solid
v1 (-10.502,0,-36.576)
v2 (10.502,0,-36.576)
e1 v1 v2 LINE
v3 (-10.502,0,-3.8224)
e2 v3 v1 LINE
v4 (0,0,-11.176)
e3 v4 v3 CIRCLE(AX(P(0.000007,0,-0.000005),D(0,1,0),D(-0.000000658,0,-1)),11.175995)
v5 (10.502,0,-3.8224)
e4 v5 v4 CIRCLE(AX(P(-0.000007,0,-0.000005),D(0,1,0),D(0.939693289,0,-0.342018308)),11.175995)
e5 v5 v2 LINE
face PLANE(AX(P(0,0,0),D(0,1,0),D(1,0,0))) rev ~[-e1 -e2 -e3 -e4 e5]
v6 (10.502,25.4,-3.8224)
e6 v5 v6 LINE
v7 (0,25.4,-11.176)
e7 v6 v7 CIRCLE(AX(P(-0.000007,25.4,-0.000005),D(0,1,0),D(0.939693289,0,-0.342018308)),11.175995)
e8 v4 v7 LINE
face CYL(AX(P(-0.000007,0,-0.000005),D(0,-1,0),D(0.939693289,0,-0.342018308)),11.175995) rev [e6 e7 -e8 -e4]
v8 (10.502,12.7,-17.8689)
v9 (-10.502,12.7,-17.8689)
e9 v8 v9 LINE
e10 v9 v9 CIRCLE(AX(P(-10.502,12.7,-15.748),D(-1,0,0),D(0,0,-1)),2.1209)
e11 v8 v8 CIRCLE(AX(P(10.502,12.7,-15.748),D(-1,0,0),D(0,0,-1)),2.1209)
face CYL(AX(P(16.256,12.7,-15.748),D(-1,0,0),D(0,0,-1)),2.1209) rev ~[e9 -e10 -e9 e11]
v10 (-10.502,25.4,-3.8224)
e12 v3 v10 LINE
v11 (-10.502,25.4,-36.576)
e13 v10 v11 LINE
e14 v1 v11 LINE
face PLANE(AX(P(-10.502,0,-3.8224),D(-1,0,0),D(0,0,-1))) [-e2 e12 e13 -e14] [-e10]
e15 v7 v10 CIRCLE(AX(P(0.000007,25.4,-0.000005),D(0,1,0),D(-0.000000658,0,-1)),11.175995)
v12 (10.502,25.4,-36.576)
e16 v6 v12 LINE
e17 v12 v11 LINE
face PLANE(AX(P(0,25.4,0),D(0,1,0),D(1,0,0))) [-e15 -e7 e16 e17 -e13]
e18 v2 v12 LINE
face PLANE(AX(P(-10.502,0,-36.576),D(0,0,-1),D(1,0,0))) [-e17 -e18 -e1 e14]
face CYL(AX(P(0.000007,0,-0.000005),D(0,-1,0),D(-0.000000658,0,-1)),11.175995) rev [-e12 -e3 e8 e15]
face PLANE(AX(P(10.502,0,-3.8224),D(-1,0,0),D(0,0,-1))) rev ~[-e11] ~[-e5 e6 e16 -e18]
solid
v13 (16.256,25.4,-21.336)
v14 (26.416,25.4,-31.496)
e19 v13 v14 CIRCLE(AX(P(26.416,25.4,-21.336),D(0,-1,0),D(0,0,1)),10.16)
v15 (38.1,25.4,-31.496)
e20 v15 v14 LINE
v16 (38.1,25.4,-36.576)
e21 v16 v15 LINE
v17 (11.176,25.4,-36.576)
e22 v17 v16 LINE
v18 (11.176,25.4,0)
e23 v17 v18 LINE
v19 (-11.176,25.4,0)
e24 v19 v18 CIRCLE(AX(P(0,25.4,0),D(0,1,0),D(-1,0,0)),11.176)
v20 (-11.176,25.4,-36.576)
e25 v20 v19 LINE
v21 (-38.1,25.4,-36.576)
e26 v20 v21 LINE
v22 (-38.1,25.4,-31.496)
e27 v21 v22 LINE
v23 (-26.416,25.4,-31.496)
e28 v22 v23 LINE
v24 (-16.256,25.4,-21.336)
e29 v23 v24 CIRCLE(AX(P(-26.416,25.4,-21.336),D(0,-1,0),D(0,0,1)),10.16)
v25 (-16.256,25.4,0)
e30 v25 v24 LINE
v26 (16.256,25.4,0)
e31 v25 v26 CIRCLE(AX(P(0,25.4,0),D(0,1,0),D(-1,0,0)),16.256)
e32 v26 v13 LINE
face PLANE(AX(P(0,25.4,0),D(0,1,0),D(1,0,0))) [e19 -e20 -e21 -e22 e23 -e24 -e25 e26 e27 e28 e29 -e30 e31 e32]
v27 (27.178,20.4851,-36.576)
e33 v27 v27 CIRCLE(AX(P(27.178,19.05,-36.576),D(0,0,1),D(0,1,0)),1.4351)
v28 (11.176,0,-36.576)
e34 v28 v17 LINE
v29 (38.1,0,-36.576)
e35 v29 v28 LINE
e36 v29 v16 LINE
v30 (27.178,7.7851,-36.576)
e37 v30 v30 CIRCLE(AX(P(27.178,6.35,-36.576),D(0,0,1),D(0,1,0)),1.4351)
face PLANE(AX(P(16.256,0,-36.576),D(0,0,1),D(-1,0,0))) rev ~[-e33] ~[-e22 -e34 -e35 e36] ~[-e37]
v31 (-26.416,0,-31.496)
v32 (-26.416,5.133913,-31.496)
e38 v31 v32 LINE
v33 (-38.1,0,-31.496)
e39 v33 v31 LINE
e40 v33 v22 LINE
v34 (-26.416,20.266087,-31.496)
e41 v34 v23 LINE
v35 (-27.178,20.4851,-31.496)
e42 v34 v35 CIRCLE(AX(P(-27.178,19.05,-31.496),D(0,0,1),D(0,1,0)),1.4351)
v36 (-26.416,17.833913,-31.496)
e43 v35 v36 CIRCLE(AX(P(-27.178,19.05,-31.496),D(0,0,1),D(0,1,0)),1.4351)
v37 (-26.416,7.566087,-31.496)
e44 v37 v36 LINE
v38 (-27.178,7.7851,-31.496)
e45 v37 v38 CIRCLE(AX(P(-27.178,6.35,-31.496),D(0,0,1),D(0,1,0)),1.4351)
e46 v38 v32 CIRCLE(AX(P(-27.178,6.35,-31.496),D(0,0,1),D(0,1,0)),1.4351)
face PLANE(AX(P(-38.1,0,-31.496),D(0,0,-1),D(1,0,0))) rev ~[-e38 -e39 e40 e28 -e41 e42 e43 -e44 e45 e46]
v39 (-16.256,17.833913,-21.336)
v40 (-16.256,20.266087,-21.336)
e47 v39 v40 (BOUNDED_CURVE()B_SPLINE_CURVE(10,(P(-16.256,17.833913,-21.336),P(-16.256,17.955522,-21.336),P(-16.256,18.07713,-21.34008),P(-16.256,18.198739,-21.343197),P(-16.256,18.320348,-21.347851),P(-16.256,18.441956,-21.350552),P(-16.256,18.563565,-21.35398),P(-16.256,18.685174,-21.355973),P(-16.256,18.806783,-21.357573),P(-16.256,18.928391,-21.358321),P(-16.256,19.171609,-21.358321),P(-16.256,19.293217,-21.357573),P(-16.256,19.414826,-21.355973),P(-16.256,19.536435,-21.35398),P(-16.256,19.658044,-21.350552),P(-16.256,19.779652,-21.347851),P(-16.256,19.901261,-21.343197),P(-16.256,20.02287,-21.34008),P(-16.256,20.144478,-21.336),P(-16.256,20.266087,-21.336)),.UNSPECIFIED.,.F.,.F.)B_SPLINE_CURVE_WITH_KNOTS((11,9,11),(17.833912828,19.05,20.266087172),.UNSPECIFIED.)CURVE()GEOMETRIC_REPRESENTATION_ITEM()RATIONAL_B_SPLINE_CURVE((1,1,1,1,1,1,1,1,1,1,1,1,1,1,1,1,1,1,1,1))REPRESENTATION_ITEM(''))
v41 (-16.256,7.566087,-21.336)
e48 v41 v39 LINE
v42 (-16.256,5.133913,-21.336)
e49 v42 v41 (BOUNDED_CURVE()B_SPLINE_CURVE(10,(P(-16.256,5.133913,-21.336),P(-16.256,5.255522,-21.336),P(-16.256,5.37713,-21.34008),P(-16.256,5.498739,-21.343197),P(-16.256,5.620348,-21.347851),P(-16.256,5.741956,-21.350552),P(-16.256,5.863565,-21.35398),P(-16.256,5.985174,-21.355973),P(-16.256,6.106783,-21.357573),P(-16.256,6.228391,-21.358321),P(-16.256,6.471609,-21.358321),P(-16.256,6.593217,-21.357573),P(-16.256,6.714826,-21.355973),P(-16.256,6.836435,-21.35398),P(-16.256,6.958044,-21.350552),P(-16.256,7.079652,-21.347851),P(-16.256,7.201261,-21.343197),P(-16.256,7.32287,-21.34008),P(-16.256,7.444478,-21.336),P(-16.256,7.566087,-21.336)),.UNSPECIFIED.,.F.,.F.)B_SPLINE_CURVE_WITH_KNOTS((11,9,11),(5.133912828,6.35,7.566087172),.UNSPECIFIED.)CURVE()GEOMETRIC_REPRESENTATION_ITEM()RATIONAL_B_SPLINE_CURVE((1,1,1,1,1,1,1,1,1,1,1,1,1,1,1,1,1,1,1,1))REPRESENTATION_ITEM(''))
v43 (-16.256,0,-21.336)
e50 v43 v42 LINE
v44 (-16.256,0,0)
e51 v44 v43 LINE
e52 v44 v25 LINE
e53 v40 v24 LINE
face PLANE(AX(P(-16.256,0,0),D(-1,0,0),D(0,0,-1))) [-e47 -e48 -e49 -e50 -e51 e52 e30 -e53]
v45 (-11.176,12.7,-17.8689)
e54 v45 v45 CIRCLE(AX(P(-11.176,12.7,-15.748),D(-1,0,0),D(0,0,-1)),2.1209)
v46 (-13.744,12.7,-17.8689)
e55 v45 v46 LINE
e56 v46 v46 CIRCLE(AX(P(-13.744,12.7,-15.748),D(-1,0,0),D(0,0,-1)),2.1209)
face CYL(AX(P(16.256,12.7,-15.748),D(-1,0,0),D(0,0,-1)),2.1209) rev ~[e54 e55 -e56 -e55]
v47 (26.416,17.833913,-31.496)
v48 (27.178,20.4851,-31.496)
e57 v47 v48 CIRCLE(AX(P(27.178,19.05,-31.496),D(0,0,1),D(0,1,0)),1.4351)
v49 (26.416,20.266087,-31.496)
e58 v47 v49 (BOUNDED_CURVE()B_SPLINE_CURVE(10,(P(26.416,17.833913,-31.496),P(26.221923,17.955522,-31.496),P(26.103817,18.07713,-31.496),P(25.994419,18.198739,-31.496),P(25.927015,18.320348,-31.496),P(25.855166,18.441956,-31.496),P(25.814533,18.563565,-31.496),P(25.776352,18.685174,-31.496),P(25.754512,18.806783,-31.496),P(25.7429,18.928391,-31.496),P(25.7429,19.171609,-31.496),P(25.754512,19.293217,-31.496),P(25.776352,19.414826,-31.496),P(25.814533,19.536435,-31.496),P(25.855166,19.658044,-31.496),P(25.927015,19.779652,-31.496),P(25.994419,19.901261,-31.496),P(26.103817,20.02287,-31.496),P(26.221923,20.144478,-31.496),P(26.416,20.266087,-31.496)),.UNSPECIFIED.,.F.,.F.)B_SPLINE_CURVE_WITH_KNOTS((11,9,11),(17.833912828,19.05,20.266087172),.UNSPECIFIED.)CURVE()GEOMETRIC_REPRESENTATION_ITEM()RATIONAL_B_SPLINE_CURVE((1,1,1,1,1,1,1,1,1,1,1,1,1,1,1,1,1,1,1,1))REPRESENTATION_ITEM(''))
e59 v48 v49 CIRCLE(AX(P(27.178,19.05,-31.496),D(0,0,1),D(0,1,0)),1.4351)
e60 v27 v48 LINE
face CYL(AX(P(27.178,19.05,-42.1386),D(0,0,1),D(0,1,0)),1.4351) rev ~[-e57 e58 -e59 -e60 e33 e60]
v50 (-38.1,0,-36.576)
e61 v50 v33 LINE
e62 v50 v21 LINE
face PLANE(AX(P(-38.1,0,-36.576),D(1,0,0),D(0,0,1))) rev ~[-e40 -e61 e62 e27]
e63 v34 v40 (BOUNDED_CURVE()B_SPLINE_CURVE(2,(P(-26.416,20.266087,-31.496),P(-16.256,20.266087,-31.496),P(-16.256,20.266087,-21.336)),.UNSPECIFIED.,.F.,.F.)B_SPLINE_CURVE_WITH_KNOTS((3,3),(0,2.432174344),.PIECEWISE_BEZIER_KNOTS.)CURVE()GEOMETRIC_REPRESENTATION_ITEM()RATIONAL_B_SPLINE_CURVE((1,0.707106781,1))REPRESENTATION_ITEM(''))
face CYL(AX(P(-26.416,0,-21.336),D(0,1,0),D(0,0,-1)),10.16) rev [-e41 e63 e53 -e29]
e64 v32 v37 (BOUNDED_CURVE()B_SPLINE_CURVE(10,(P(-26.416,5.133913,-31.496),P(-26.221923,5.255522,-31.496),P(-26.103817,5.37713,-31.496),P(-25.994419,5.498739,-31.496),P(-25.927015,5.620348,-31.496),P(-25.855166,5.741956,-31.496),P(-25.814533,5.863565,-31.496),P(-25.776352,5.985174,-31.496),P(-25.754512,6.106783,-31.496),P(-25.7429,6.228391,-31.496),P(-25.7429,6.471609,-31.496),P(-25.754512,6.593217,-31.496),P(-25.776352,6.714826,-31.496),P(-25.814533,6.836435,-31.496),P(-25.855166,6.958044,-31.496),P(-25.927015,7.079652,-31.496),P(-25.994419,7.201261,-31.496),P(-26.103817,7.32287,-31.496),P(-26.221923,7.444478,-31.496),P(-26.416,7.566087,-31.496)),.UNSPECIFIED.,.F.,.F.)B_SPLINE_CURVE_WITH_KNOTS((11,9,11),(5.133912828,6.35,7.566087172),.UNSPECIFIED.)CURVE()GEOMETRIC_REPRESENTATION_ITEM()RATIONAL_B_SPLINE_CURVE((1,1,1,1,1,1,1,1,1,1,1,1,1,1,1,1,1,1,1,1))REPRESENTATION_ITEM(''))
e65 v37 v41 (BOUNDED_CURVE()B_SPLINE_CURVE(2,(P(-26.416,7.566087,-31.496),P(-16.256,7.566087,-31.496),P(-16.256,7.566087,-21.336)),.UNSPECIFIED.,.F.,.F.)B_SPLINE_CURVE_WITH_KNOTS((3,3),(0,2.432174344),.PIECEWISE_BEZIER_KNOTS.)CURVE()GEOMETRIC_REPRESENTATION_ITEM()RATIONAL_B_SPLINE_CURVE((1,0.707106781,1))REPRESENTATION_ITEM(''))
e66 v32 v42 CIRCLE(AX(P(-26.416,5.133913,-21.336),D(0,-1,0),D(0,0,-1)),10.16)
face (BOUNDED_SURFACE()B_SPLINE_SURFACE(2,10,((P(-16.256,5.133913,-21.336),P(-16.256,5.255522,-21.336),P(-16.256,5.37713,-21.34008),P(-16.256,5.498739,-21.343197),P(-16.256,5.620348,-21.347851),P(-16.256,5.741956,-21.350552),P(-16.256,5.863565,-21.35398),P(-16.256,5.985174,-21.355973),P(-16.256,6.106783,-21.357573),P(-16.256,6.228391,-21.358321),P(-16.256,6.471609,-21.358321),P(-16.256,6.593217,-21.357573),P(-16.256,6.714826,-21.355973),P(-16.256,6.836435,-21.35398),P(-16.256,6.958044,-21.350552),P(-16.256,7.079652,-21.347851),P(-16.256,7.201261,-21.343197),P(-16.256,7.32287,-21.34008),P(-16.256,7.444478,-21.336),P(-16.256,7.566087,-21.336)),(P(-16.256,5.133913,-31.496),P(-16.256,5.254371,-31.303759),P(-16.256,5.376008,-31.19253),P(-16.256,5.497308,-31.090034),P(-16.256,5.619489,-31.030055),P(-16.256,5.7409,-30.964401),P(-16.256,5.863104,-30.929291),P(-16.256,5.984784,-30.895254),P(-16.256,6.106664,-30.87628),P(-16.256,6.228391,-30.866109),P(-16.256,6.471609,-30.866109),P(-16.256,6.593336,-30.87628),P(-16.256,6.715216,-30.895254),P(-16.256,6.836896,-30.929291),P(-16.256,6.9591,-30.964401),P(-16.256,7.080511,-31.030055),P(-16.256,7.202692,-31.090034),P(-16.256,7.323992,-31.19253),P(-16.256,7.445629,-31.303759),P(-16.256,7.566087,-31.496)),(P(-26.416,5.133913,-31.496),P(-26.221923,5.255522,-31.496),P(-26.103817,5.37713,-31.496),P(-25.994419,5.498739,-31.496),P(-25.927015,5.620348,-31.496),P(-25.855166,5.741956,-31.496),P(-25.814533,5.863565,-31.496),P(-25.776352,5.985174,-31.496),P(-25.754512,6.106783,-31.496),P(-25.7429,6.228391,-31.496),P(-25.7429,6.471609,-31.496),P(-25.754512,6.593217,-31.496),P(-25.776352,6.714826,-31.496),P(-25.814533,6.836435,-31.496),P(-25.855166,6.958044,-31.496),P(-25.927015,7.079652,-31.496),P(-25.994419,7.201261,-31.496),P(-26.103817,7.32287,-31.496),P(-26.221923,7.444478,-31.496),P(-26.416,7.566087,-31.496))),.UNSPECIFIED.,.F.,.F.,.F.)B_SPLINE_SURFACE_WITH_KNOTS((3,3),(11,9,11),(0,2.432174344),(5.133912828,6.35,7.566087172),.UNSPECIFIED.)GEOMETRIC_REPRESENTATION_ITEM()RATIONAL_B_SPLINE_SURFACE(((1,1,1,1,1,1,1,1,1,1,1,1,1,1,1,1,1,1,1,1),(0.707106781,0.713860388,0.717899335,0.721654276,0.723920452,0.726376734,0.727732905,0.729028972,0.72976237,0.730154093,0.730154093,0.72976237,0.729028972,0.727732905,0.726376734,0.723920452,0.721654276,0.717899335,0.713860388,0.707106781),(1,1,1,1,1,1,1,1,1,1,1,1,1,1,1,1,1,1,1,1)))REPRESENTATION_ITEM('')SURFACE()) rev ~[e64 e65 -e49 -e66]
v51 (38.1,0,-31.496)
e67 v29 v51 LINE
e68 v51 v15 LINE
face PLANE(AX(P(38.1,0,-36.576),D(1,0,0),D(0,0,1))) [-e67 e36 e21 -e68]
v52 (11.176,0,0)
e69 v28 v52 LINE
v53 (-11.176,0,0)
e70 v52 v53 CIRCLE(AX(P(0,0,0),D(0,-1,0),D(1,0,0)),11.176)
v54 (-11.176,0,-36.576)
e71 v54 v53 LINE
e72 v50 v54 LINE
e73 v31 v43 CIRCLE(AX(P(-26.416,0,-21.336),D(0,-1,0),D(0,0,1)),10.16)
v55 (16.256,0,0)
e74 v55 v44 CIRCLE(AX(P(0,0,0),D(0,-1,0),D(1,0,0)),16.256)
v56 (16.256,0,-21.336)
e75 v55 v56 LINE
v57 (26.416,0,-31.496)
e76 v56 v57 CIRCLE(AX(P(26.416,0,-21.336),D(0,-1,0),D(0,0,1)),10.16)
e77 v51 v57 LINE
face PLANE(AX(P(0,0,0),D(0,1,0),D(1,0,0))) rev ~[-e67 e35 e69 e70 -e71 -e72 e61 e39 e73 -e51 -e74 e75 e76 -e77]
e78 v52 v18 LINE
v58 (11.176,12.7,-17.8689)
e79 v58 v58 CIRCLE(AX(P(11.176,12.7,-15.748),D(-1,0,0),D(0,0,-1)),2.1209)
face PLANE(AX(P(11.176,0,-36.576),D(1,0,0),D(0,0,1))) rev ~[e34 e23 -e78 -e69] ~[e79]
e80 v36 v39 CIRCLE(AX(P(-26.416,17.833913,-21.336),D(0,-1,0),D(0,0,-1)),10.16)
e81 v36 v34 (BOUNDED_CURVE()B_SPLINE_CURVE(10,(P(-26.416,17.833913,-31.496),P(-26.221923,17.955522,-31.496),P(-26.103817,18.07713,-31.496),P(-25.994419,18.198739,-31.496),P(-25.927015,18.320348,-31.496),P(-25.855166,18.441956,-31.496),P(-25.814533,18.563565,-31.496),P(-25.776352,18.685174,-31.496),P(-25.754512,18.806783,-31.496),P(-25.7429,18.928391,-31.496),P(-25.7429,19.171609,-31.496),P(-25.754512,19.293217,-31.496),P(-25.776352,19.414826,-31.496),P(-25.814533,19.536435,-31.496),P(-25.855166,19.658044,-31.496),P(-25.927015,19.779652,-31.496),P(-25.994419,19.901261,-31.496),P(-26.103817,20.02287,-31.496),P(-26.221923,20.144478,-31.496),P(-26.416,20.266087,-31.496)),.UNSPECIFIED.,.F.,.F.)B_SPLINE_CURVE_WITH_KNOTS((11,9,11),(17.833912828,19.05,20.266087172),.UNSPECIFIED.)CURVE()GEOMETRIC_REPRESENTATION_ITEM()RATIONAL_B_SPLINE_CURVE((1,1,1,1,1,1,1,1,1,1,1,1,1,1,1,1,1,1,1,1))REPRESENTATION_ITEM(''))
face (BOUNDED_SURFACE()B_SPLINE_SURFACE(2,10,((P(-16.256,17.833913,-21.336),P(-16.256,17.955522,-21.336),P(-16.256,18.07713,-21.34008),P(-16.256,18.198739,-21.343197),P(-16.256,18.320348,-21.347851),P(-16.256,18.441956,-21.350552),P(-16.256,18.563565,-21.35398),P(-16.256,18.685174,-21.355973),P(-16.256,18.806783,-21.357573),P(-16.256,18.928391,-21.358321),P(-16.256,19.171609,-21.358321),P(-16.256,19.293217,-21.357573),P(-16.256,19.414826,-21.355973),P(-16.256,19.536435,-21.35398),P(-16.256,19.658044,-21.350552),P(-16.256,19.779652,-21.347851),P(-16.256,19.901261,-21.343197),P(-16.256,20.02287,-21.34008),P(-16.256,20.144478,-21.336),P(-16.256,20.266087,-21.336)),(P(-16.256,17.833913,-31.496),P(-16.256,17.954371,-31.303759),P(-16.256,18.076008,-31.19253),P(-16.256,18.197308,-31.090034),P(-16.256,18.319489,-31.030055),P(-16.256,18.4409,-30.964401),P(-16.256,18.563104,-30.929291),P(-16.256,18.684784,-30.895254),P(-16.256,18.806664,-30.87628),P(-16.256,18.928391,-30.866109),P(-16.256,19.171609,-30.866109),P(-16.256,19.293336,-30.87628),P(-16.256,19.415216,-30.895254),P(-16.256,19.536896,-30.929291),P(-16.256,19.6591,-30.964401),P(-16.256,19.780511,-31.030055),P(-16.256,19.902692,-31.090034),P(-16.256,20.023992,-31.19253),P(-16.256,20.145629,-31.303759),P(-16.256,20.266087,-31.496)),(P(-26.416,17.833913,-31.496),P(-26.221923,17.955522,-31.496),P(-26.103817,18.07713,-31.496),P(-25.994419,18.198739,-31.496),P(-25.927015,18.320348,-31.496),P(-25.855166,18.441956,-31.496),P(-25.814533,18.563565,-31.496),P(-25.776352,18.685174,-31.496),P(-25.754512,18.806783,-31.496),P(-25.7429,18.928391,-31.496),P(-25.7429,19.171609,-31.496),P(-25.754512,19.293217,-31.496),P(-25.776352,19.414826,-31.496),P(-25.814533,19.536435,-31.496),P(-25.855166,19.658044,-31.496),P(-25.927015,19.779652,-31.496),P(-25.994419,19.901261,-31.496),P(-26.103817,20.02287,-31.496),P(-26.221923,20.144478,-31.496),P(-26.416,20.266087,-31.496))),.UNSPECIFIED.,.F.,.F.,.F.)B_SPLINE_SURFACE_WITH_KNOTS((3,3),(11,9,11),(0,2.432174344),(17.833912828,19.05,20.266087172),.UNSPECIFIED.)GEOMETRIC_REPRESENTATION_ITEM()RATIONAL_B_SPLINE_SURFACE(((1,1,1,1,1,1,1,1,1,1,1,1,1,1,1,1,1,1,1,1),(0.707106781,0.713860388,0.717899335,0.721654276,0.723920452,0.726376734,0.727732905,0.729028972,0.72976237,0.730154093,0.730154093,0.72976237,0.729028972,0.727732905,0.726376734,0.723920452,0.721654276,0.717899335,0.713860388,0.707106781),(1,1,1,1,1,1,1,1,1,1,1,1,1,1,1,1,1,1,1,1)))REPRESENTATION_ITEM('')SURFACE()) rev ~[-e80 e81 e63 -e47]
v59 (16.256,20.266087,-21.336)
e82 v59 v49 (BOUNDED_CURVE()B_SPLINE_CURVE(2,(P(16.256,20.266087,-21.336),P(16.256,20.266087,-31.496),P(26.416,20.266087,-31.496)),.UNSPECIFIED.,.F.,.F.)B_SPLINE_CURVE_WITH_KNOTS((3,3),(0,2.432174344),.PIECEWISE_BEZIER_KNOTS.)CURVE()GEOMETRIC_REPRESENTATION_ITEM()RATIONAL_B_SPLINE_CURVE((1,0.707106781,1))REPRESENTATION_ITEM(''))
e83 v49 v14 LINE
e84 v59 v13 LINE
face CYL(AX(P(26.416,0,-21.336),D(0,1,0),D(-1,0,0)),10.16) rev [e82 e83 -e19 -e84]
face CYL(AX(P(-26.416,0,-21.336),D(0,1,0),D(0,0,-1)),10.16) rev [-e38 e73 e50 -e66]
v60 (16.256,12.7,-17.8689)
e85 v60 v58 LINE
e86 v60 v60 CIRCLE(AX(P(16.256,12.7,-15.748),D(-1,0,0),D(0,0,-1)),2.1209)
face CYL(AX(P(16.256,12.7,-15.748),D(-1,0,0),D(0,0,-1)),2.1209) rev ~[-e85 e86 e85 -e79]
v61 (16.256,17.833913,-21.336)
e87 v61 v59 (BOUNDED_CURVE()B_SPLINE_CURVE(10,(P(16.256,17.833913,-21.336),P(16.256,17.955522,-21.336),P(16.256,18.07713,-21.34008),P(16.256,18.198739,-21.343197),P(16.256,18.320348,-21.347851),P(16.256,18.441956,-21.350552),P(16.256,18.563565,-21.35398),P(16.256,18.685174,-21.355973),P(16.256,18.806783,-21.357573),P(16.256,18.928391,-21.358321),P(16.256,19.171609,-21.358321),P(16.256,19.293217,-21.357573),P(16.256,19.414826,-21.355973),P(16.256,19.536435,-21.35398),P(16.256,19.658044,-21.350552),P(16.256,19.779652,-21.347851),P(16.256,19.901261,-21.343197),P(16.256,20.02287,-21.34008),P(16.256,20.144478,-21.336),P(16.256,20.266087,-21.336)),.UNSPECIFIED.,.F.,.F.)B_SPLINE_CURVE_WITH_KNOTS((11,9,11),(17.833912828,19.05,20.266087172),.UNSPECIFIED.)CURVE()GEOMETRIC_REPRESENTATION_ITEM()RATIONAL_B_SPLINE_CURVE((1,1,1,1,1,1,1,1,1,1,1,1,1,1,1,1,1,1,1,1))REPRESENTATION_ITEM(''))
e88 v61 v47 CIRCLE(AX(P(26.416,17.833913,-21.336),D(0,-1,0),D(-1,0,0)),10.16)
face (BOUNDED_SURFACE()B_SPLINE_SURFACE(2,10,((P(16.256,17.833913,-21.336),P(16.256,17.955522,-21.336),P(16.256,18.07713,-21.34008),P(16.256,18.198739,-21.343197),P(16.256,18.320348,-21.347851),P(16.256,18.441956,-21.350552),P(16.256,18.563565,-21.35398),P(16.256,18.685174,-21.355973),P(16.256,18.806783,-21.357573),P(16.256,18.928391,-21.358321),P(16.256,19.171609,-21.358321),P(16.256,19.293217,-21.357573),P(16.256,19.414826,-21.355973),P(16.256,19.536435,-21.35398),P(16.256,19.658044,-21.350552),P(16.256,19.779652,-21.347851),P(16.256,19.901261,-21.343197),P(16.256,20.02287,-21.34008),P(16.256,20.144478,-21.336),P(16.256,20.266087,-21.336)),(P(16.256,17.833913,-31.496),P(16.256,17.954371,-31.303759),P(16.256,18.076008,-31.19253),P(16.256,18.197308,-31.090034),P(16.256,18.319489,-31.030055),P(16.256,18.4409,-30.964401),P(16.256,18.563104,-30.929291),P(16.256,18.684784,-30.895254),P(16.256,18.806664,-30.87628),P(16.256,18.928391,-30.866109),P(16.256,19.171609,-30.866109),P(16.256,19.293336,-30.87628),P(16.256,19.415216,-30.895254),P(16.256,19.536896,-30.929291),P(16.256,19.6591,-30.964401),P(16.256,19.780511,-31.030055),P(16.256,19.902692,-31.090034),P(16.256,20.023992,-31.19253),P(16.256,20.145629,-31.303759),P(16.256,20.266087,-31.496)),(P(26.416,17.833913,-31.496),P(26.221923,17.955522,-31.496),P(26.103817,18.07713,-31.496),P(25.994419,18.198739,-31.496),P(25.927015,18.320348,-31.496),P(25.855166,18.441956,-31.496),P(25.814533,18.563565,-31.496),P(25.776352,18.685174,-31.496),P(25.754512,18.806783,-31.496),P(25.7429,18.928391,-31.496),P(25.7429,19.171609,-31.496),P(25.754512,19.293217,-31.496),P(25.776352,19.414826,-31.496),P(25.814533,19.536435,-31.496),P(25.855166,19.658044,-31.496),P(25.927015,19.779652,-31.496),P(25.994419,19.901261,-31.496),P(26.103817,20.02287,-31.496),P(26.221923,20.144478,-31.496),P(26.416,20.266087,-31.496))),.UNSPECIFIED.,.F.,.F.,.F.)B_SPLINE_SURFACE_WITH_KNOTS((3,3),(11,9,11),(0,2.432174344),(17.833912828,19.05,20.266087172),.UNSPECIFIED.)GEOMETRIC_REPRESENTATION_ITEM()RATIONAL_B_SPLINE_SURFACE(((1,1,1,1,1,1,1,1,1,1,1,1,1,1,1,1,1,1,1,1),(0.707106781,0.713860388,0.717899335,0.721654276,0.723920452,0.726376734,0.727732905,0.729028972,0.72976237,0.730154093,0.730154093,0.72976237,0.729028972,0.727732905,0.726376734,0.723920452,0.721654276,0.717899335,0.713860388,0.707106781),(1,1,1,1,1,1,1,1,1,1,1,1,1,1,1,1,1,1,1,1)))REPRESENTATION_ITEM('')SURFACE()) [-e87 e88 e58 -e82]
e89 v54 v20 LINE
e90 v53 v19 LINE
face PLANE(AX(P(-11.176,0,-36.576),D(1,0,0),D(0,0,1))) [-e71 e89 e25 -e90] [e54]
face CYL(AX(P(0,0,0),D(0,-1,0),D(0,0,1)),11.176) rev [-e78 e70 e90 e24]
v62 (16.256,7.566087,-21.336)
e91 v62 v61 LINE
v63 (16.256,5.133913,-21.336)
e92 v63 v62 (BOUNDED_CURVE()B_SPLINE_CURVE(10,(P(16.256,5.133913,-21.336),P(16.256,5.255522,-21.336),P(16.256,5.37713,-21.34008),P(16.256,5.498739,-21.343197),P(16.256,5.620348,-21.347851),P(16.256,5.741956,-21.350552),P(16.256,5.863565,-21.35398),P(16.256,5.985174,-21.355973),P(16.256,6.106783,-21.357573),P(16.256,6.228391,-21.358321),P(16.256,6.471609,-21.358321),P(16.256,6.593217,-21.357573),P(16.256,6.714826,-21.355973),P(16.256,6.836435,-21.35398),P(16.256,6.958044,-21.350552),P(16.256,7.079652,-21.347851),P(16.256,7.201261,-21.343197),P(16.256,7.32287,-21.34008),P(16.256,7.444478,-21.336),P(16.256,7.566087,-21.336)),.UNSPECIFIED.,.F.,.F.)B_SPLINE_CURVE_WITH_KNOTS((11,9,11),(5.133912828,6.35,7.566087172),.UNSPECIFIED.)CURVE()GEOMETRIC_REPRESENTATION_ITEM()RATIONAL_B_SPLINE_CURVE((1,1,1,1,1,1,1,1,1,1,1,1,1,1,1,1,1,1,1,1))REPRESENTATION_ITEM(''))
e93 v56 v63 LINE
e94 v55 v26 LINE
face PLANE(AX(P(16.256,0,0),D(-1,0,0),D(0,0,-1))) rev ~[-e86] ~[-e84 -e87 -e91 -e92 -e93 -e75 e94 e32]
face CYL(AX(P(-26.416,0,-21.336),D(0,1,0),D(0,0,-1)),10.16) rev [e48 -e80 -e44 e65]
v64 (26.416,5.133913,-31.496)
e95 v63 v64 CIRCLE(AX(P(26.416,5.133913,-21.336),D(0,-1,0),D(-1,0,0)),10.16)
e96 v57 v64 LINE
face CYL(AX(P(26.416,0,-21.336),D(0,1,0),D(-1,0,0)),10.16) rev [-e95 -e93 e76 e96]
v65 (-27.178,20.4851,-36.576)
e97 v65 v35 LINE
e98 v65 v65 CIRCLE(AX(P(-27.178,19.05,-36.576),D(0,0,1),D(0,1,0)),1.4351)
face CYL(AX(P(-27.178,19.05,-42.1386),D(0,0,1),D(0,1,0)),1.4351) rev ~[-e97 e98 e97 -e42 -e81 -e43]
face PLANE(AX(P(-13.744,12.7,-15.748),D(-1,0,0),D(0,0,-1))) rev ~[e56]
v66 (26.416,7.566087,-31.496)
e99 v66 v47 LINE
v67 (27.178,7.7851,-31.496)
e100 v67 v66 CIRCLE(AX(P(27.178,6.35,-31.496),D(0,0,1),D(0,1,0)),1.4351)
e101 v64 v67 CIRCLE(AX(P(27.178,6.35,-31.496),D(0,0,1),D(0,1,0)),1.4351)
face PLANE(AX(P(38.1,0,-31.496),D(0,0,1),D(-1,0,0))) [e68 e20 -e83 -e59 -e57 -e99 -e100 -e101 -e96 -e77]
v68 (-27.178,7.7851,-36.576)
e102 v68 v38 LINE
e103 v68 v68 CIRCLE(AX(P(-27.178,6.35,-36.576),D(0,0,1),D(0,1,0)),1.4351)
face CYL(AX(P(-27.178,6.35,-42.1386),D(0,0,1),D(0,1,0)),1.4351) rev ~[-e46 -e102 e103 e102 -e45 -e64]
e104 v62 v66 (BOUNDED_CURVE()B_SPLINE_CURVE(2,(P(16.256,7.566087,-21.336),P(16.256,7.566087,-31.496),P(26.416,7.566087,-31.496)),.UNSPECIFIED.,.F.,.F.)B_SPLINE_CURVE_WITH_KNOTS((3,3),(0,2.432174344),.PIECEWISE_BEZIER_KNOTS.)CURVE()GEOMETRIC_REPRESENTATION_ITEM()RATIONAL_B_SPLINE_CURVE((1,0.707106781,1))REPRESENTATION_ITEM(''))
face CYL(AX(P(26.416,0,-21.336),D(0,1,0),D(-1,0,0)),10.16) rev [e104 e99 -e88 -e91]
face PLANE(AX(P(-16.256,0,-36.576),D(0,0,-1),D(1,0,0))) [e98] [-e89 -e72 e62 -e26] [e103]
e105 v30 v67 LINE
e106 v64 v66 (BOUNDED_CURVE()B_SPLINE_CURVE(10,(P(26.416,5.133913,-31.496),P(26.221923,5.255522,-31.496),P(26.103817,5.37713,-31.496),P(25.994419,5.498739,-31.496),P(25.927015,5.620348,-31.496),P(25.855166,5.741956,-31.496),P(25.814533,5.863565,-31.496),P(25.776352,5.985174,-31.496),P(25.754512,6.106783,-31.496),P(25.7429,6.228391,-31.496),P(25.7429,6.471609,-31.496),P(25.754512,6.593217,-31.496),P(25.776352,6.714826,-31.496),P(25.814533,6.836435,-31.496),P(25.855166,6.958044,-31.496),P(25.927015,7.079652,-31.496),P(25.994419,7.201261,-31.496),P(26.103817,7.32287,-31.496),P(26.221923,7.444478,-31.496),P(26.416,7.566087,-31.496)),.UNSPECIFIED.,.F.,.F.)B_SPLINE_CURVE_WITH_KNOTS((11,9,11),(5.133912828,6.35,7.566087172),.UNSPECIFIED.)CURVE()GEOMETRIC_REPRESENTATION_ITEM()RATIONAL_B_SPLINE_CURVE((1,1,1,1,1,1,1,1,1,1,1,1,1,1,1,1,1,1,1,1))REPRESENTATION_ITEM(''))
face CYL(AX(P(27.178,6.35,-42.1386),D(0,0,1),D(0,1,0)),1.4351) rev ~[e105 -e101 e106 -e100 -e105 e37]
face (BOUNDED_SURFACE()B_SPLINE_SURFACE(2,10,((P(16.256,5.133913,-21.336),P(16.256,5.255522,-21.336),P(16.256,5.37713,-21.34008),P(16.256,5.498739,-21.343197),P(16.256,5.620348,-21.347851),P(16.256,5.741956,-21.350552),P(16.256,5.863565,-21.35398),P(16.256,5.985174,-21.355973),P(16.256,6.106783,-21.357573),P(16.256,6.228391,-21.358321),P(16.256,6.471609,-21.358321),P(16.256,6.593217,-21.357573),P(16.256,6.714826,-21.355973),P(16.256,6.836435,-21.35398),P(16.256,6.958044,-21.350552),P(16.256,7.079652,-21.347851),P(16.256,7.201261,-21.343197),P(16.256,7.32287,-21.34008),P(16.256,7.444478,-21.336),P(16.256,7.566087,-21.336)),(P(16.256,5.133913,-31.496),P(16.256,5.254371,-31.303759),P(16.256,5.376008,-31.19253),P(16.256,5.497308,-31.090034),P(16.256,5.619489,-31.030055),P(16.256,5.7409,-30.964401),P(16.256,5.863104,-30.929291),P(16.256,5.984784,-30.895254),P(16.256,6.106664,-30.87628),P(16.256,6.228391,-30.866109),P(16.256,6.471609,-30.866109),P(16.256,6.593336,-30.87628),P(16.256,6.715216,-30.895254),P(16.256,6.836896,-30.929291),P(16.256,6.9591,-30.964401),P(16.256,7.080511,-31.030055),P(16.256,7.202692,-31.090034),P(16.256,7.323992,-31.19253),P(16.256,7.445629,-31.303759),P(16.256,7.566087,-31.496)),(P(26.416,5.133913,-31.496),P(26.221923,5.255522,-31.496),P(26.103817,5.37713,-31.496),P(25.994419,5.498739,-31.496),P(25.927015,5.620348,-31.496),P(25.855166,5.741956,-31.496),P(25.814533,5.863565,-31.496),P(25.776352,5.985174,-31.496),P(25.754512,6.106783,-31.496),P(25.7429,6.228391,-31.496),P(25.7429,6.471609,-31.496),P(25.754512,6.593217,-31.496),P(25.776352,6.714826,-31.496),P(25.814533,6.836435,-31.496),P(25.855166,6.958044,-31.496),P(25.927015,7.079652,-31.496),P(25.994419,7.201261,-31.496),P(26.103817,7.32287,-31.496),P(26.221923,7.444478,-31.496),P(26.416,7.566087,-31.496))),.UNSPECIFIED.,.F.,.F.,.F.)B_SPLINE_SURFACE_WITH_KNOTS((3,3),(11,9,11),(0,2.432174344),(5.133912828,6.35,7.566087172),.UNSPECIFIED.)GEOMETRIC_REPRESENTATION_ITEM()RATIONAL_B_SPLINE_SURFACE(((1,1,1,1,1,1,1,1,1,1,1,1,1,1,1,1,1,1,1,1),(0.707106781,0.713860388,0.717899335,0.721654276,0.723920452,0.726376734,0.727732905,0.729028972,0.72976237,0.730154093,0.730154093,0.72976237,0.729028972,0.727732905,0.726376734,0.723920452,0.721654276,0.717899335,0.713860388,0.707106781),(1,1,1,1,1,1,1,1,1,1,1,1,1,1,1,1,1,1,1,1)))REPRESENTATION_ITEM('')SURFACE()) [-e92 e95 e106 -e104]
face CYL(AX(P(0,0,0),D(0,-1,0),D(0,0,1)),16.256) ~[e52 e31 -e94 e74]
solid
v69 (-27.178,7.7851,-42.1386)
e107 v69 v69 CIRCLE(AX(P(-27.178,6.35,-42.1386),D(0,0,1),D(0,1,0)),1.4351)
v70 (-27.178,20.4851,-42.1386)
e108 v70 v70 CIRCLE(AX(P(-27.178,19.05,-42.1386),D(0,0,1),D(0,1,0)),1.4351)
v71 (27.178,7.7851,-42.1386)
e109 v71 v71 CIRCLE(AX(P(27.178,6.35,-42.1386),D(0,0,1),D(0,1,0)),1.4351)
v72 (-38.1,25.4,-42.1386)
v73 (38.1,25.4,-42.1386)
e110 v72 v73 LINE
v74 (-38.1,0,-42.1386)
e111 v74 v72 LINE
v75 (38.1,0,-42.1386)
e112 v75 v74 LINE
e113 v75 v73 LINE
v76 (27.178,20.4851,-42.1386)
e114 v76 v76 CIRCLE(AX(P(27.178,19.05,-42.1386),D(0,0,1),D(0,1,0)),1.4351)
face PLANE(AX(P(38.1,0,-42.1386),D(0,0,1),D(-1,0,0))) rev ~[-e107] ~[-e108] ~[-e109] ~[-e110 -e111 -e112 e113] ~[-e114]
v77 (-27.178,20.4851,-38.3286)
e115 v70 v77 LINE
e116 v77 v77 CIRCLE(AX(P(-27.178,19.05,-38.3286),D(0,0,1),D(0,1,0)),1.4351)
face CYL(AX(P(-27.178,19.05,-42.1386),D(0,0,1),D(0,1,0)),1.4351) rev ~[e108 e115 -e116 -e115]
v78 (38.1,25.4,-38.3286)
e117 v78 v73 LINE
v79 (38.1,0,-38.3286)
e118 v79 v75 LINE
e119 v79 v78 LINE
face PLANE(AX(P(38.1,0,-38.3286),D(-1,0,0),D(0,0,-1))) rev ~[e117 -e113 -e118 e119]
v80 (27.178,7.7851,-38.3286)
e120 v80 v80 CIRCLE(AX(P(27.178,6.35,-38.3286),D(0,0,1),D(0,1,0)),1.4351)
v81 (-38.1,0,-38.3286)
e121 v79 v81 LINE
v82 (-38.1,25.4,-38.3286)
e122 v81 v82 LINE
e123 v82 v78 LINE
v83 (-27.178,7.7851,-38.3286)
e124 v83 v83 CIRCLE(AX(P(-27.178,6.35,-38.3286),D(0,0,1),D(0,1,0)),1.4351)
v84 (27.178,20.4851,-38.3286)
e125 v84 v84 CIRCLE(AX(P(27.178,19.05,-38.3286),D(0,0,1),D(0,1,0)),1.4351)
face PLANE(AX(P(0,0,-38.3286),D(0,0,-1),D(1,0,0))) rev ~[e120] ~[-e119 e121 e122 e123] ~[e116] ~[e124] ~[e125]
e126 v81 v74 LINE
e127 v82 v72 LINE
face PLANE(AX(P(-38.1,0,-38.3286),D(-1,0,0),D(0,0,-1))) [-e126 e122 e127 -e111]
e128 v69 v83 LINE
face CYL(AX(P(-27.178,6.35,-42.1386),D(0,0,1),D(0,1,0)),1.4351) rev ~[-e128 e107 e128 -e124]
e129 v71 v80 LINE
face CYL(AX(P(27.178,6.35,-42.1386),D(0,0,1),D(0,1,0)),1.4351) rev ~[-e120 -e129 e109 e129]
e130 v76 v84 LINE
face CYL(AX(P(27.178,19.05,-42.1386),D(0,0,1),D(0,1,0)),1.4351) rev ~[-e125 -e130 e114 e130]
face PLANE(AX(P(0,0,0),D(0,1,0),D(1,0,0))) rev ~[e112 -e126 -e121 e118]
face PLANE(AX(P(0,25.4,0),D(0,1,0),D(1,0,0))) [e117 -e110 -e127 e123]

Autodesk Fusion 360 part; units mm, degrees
sketch "Sketch1" plane through (0, 0, 0) normal (0, 1, 0) x (1, 0, 0)
  circle A0 centre (0, 0) radius 9.525 construction
  circle A1 centre (0, 0) radius 11.176 construction
  line L0 (0, 0) -> (0, 36.576)
  line L1 (0, 36.576) -> (38.1, 36.576) construction
  line L2 (38.1, 36.576) -> (38.1, 38.3286) construction
  line L3 (38.1, 38.3286) -> (0, 38.3286) construction
  line L4 (0, 38.3286) -> (0, 36.576) construction
  line L5 (0, 36.576) -> (-38.1, 36.576) construction
  line L6 (-38.1, 38.3286) -> (0, 38.3286) construction
  line L7 (-38.1, 36.576) -> (-38.1, 38.3286) construction
  line L8 (0, 38.3286) -> (38.1, 38.3286)
  line L9 (38.1, 38.3286) -> (38.1, 42.1386)
  line L10 (38.1, 42.1386) -> (0, 42.1386)
  line L11 (0, 42.1386) -> (0, 38.3286)
  line L12 (-38.1, 42.1386) -> (0, 42.1386)
  line L13 (0, 38.3286) -> (-38.1, 38.3286)
  line L14 (-38.1, 38.3286) -> (-38.1, 42.1386)
  line L15 (0, 0) -> (11.176, 0)
  line L16 (0, 0) -> (-11.176, 0)
  line L17 (11.176, 0) -> (16.256, 0) construction
  line L18 (16.256, 0) -> (16.256, 36.576)
  line L19 (16.256, 36.576) -> (11.176, 36.576)
  line L20 (11.176, 36.576) -> (11.176, 0)
  arc A2 (0, -16.256) -> (16.256, 0) centre (0, 0) ccw
  line L21 (0, 0) -> (0, -16.256) construction
  line L22 (0, 0) -> (16.256, 0) construction
  arc A3 (0, -11.176) -> (11.176, 0) centre (0, 0) ccw
  arc A4 (-16.256, 0) -> (0, -16.256) centre (0, 0) ccw
  arc A5 (-11.176, 0) -> (0, -11.176) centre (0, 0) ccw
  line L23 (-16.256, 0) -> (-16.256, 36.576)
  line L24 (-11.176, 36.576) -> (-11.176, 0)
  line L25 (-16.256, 36.576) -> (-11.176, 36.576)
  line L26 (0, 11.176) -> (0, 36.576)
  arc A6 (10.502, 3.8224) -> (0, 11.176) centre (0, 0) ccw
  line L27 (0, 0) -> (10.502, 3.8224) construction
  line L28 (0, 0) -> (0, 11.176) construction
  line L29 (10.502, 3.8224) -> (10.502, 36.576)
  line L30 (10.502, 36.576) -> (0, 36.576)
  arc A7 (0, 11.176) -> (-10.502, 3.8224) centre (0, 0) ccw
  line L31 (-10.502, 3.8224) -> (-10.502, 36.576)
  line L32 (-10.502, 36.576) -> (0, 36.576)
  line L33 (16.256, 36.576) -> (38.1, 36.576)
  line L34 (38.1, 36.576) -> (38.1, 31.496)
  line L35 (38.1, 31.496) -> (16.256, 31.496)
  line L36 (16.256, 31.496) -> (16.256, 36.576)
  line L37 (-38.1, 31.496) -> (-16.256, 31.496)
  line L38 (-38.1, 36.576) -> (-38.1, 31.496)
  line L39 (-16.256, 36.576) -> (-38.1, 36.576)
  dimension "d1" = 19.05
  dimension "d2" = 22.352
  dimension "d3" = 36.576
  dimension "d4" = 38.1
  dimension "d5" = 1.7526
  dimension "d6" = 38.1
  dimension "d7" = 3.81
  dimension "d8" = 5.08
  dimension "d9" = 36.576
  dimension "d10" = 90
  dimension "d11" = 70
  dimension "d12" = 5.08
  dimension "d13" = 21.844
extrude "Extrude1" add sketch "Sketch1" along normal blind 25.4 contours L18 L19 L20 A2 A3 A4 A5 L23 L24 L25 L36 | L18 L33 L34 L35 L36 | L23 L37 L38 L39 | L8 L9 L10 L11 | L11 L12 L13 L14 makes body 1 at (-16.1752, 8.4667, 1.6186) makes body 2 at (12.7, 8.4667, -42.1386)
extrude "Extrude2" add sketch "Sketch1" along normal blind 25.4 separate body contours L0 L26 A7 L31 L32 | L0 L26 A6 L29 L30 makes body 3
sketch "Sketch3" plane through (16.256, 0, 0) normal (1, 0, 0) x (0, 1, 0)
  line L0 (0, 0) -> (0, -31.496)
  line L1 (0, -31.496) -> (25.4, -31.496)
  line L2 (25.4, -31.496) -> (25.4, 0)
  line L3 (25.4, 0) -> (0, 0)
  line L4 (25.4, 0) -> (0, 0) construction
  line L5 (0, 0) -> (0, -31.496) construction
  line L6 (0, -31.496) -> (25.4, -31.496) construction
  line L7 (25.4, -31.496) -> (25.4, 0) construction
  line L8 (12.7, 0) -> (12.7, -31.496) construction
  line L9 (0, -15.748) -> (25.4, -15.748) construction
  point P0 (12.7, -15.748)
sketch "Sketch5" plane through (0, 0, -42.1386) normal (0, 0, -1) x (1, 0, 0)
  line L0 (38.1, 0) -> (-38.1, 0)
  line L1 (-38.1, 0) -> (-38.1, -25.4)
  line L2 (-38.1, -25.4) -> (38.1, -25.4)
  line L3 (38.1, -25.4) -> (38.1, 0)
  line L4 (-38.1, -25.4) -> (-16.256, -25.4)
  line L5 (-16.256, -25.4) -> (-16.256, 0)
  line L6 (-16.256, 0) -> (-38.1, 0)
  line L7 (-38.1, 0) -> (-38.1, -25.4)
  line L8 (0, 0) -> (0, -25.4)
  line L9 (-27.178, -25.4) -> (-27.178, 0)
  line L10 (-16.256, -12.7) -> (-38.1, -12.7)
  point P0 (-27.178, -19.05)
  point P1 (-27.178, -6.35)
  point P2 (27.178, -19.05)
  point P3 (27.178, -6.35)
  dimension "d30" = 21.844
  dimension "d31" = 25.4
  dimension "d32" = 6.35
hole "Hole3" at (27.178, 19.05, -42.1386) at (27.178, 6.35, -42.1386) at (-27.178, 19.05, -42.1386) at (-27.178, 6.35, -42.1386) direction (0, 0, 1) diameter 2.8702 depth 11.1125 tip angle 180 bodies 1 2
hole "Hole4" at (16.256, 12.7, -15.748) direction (-1, 0, 0) diameter 4.2418 depth 30 tip angle 180 bodies 1 3
fillet "Fillet1" radius 10.16 2 edges at (-16.256, 12.7, -31.496) (16.256, 12.7, -31.496) on bodies 1
equation "d33 = ( 7 / 16 ) * 1 in"
